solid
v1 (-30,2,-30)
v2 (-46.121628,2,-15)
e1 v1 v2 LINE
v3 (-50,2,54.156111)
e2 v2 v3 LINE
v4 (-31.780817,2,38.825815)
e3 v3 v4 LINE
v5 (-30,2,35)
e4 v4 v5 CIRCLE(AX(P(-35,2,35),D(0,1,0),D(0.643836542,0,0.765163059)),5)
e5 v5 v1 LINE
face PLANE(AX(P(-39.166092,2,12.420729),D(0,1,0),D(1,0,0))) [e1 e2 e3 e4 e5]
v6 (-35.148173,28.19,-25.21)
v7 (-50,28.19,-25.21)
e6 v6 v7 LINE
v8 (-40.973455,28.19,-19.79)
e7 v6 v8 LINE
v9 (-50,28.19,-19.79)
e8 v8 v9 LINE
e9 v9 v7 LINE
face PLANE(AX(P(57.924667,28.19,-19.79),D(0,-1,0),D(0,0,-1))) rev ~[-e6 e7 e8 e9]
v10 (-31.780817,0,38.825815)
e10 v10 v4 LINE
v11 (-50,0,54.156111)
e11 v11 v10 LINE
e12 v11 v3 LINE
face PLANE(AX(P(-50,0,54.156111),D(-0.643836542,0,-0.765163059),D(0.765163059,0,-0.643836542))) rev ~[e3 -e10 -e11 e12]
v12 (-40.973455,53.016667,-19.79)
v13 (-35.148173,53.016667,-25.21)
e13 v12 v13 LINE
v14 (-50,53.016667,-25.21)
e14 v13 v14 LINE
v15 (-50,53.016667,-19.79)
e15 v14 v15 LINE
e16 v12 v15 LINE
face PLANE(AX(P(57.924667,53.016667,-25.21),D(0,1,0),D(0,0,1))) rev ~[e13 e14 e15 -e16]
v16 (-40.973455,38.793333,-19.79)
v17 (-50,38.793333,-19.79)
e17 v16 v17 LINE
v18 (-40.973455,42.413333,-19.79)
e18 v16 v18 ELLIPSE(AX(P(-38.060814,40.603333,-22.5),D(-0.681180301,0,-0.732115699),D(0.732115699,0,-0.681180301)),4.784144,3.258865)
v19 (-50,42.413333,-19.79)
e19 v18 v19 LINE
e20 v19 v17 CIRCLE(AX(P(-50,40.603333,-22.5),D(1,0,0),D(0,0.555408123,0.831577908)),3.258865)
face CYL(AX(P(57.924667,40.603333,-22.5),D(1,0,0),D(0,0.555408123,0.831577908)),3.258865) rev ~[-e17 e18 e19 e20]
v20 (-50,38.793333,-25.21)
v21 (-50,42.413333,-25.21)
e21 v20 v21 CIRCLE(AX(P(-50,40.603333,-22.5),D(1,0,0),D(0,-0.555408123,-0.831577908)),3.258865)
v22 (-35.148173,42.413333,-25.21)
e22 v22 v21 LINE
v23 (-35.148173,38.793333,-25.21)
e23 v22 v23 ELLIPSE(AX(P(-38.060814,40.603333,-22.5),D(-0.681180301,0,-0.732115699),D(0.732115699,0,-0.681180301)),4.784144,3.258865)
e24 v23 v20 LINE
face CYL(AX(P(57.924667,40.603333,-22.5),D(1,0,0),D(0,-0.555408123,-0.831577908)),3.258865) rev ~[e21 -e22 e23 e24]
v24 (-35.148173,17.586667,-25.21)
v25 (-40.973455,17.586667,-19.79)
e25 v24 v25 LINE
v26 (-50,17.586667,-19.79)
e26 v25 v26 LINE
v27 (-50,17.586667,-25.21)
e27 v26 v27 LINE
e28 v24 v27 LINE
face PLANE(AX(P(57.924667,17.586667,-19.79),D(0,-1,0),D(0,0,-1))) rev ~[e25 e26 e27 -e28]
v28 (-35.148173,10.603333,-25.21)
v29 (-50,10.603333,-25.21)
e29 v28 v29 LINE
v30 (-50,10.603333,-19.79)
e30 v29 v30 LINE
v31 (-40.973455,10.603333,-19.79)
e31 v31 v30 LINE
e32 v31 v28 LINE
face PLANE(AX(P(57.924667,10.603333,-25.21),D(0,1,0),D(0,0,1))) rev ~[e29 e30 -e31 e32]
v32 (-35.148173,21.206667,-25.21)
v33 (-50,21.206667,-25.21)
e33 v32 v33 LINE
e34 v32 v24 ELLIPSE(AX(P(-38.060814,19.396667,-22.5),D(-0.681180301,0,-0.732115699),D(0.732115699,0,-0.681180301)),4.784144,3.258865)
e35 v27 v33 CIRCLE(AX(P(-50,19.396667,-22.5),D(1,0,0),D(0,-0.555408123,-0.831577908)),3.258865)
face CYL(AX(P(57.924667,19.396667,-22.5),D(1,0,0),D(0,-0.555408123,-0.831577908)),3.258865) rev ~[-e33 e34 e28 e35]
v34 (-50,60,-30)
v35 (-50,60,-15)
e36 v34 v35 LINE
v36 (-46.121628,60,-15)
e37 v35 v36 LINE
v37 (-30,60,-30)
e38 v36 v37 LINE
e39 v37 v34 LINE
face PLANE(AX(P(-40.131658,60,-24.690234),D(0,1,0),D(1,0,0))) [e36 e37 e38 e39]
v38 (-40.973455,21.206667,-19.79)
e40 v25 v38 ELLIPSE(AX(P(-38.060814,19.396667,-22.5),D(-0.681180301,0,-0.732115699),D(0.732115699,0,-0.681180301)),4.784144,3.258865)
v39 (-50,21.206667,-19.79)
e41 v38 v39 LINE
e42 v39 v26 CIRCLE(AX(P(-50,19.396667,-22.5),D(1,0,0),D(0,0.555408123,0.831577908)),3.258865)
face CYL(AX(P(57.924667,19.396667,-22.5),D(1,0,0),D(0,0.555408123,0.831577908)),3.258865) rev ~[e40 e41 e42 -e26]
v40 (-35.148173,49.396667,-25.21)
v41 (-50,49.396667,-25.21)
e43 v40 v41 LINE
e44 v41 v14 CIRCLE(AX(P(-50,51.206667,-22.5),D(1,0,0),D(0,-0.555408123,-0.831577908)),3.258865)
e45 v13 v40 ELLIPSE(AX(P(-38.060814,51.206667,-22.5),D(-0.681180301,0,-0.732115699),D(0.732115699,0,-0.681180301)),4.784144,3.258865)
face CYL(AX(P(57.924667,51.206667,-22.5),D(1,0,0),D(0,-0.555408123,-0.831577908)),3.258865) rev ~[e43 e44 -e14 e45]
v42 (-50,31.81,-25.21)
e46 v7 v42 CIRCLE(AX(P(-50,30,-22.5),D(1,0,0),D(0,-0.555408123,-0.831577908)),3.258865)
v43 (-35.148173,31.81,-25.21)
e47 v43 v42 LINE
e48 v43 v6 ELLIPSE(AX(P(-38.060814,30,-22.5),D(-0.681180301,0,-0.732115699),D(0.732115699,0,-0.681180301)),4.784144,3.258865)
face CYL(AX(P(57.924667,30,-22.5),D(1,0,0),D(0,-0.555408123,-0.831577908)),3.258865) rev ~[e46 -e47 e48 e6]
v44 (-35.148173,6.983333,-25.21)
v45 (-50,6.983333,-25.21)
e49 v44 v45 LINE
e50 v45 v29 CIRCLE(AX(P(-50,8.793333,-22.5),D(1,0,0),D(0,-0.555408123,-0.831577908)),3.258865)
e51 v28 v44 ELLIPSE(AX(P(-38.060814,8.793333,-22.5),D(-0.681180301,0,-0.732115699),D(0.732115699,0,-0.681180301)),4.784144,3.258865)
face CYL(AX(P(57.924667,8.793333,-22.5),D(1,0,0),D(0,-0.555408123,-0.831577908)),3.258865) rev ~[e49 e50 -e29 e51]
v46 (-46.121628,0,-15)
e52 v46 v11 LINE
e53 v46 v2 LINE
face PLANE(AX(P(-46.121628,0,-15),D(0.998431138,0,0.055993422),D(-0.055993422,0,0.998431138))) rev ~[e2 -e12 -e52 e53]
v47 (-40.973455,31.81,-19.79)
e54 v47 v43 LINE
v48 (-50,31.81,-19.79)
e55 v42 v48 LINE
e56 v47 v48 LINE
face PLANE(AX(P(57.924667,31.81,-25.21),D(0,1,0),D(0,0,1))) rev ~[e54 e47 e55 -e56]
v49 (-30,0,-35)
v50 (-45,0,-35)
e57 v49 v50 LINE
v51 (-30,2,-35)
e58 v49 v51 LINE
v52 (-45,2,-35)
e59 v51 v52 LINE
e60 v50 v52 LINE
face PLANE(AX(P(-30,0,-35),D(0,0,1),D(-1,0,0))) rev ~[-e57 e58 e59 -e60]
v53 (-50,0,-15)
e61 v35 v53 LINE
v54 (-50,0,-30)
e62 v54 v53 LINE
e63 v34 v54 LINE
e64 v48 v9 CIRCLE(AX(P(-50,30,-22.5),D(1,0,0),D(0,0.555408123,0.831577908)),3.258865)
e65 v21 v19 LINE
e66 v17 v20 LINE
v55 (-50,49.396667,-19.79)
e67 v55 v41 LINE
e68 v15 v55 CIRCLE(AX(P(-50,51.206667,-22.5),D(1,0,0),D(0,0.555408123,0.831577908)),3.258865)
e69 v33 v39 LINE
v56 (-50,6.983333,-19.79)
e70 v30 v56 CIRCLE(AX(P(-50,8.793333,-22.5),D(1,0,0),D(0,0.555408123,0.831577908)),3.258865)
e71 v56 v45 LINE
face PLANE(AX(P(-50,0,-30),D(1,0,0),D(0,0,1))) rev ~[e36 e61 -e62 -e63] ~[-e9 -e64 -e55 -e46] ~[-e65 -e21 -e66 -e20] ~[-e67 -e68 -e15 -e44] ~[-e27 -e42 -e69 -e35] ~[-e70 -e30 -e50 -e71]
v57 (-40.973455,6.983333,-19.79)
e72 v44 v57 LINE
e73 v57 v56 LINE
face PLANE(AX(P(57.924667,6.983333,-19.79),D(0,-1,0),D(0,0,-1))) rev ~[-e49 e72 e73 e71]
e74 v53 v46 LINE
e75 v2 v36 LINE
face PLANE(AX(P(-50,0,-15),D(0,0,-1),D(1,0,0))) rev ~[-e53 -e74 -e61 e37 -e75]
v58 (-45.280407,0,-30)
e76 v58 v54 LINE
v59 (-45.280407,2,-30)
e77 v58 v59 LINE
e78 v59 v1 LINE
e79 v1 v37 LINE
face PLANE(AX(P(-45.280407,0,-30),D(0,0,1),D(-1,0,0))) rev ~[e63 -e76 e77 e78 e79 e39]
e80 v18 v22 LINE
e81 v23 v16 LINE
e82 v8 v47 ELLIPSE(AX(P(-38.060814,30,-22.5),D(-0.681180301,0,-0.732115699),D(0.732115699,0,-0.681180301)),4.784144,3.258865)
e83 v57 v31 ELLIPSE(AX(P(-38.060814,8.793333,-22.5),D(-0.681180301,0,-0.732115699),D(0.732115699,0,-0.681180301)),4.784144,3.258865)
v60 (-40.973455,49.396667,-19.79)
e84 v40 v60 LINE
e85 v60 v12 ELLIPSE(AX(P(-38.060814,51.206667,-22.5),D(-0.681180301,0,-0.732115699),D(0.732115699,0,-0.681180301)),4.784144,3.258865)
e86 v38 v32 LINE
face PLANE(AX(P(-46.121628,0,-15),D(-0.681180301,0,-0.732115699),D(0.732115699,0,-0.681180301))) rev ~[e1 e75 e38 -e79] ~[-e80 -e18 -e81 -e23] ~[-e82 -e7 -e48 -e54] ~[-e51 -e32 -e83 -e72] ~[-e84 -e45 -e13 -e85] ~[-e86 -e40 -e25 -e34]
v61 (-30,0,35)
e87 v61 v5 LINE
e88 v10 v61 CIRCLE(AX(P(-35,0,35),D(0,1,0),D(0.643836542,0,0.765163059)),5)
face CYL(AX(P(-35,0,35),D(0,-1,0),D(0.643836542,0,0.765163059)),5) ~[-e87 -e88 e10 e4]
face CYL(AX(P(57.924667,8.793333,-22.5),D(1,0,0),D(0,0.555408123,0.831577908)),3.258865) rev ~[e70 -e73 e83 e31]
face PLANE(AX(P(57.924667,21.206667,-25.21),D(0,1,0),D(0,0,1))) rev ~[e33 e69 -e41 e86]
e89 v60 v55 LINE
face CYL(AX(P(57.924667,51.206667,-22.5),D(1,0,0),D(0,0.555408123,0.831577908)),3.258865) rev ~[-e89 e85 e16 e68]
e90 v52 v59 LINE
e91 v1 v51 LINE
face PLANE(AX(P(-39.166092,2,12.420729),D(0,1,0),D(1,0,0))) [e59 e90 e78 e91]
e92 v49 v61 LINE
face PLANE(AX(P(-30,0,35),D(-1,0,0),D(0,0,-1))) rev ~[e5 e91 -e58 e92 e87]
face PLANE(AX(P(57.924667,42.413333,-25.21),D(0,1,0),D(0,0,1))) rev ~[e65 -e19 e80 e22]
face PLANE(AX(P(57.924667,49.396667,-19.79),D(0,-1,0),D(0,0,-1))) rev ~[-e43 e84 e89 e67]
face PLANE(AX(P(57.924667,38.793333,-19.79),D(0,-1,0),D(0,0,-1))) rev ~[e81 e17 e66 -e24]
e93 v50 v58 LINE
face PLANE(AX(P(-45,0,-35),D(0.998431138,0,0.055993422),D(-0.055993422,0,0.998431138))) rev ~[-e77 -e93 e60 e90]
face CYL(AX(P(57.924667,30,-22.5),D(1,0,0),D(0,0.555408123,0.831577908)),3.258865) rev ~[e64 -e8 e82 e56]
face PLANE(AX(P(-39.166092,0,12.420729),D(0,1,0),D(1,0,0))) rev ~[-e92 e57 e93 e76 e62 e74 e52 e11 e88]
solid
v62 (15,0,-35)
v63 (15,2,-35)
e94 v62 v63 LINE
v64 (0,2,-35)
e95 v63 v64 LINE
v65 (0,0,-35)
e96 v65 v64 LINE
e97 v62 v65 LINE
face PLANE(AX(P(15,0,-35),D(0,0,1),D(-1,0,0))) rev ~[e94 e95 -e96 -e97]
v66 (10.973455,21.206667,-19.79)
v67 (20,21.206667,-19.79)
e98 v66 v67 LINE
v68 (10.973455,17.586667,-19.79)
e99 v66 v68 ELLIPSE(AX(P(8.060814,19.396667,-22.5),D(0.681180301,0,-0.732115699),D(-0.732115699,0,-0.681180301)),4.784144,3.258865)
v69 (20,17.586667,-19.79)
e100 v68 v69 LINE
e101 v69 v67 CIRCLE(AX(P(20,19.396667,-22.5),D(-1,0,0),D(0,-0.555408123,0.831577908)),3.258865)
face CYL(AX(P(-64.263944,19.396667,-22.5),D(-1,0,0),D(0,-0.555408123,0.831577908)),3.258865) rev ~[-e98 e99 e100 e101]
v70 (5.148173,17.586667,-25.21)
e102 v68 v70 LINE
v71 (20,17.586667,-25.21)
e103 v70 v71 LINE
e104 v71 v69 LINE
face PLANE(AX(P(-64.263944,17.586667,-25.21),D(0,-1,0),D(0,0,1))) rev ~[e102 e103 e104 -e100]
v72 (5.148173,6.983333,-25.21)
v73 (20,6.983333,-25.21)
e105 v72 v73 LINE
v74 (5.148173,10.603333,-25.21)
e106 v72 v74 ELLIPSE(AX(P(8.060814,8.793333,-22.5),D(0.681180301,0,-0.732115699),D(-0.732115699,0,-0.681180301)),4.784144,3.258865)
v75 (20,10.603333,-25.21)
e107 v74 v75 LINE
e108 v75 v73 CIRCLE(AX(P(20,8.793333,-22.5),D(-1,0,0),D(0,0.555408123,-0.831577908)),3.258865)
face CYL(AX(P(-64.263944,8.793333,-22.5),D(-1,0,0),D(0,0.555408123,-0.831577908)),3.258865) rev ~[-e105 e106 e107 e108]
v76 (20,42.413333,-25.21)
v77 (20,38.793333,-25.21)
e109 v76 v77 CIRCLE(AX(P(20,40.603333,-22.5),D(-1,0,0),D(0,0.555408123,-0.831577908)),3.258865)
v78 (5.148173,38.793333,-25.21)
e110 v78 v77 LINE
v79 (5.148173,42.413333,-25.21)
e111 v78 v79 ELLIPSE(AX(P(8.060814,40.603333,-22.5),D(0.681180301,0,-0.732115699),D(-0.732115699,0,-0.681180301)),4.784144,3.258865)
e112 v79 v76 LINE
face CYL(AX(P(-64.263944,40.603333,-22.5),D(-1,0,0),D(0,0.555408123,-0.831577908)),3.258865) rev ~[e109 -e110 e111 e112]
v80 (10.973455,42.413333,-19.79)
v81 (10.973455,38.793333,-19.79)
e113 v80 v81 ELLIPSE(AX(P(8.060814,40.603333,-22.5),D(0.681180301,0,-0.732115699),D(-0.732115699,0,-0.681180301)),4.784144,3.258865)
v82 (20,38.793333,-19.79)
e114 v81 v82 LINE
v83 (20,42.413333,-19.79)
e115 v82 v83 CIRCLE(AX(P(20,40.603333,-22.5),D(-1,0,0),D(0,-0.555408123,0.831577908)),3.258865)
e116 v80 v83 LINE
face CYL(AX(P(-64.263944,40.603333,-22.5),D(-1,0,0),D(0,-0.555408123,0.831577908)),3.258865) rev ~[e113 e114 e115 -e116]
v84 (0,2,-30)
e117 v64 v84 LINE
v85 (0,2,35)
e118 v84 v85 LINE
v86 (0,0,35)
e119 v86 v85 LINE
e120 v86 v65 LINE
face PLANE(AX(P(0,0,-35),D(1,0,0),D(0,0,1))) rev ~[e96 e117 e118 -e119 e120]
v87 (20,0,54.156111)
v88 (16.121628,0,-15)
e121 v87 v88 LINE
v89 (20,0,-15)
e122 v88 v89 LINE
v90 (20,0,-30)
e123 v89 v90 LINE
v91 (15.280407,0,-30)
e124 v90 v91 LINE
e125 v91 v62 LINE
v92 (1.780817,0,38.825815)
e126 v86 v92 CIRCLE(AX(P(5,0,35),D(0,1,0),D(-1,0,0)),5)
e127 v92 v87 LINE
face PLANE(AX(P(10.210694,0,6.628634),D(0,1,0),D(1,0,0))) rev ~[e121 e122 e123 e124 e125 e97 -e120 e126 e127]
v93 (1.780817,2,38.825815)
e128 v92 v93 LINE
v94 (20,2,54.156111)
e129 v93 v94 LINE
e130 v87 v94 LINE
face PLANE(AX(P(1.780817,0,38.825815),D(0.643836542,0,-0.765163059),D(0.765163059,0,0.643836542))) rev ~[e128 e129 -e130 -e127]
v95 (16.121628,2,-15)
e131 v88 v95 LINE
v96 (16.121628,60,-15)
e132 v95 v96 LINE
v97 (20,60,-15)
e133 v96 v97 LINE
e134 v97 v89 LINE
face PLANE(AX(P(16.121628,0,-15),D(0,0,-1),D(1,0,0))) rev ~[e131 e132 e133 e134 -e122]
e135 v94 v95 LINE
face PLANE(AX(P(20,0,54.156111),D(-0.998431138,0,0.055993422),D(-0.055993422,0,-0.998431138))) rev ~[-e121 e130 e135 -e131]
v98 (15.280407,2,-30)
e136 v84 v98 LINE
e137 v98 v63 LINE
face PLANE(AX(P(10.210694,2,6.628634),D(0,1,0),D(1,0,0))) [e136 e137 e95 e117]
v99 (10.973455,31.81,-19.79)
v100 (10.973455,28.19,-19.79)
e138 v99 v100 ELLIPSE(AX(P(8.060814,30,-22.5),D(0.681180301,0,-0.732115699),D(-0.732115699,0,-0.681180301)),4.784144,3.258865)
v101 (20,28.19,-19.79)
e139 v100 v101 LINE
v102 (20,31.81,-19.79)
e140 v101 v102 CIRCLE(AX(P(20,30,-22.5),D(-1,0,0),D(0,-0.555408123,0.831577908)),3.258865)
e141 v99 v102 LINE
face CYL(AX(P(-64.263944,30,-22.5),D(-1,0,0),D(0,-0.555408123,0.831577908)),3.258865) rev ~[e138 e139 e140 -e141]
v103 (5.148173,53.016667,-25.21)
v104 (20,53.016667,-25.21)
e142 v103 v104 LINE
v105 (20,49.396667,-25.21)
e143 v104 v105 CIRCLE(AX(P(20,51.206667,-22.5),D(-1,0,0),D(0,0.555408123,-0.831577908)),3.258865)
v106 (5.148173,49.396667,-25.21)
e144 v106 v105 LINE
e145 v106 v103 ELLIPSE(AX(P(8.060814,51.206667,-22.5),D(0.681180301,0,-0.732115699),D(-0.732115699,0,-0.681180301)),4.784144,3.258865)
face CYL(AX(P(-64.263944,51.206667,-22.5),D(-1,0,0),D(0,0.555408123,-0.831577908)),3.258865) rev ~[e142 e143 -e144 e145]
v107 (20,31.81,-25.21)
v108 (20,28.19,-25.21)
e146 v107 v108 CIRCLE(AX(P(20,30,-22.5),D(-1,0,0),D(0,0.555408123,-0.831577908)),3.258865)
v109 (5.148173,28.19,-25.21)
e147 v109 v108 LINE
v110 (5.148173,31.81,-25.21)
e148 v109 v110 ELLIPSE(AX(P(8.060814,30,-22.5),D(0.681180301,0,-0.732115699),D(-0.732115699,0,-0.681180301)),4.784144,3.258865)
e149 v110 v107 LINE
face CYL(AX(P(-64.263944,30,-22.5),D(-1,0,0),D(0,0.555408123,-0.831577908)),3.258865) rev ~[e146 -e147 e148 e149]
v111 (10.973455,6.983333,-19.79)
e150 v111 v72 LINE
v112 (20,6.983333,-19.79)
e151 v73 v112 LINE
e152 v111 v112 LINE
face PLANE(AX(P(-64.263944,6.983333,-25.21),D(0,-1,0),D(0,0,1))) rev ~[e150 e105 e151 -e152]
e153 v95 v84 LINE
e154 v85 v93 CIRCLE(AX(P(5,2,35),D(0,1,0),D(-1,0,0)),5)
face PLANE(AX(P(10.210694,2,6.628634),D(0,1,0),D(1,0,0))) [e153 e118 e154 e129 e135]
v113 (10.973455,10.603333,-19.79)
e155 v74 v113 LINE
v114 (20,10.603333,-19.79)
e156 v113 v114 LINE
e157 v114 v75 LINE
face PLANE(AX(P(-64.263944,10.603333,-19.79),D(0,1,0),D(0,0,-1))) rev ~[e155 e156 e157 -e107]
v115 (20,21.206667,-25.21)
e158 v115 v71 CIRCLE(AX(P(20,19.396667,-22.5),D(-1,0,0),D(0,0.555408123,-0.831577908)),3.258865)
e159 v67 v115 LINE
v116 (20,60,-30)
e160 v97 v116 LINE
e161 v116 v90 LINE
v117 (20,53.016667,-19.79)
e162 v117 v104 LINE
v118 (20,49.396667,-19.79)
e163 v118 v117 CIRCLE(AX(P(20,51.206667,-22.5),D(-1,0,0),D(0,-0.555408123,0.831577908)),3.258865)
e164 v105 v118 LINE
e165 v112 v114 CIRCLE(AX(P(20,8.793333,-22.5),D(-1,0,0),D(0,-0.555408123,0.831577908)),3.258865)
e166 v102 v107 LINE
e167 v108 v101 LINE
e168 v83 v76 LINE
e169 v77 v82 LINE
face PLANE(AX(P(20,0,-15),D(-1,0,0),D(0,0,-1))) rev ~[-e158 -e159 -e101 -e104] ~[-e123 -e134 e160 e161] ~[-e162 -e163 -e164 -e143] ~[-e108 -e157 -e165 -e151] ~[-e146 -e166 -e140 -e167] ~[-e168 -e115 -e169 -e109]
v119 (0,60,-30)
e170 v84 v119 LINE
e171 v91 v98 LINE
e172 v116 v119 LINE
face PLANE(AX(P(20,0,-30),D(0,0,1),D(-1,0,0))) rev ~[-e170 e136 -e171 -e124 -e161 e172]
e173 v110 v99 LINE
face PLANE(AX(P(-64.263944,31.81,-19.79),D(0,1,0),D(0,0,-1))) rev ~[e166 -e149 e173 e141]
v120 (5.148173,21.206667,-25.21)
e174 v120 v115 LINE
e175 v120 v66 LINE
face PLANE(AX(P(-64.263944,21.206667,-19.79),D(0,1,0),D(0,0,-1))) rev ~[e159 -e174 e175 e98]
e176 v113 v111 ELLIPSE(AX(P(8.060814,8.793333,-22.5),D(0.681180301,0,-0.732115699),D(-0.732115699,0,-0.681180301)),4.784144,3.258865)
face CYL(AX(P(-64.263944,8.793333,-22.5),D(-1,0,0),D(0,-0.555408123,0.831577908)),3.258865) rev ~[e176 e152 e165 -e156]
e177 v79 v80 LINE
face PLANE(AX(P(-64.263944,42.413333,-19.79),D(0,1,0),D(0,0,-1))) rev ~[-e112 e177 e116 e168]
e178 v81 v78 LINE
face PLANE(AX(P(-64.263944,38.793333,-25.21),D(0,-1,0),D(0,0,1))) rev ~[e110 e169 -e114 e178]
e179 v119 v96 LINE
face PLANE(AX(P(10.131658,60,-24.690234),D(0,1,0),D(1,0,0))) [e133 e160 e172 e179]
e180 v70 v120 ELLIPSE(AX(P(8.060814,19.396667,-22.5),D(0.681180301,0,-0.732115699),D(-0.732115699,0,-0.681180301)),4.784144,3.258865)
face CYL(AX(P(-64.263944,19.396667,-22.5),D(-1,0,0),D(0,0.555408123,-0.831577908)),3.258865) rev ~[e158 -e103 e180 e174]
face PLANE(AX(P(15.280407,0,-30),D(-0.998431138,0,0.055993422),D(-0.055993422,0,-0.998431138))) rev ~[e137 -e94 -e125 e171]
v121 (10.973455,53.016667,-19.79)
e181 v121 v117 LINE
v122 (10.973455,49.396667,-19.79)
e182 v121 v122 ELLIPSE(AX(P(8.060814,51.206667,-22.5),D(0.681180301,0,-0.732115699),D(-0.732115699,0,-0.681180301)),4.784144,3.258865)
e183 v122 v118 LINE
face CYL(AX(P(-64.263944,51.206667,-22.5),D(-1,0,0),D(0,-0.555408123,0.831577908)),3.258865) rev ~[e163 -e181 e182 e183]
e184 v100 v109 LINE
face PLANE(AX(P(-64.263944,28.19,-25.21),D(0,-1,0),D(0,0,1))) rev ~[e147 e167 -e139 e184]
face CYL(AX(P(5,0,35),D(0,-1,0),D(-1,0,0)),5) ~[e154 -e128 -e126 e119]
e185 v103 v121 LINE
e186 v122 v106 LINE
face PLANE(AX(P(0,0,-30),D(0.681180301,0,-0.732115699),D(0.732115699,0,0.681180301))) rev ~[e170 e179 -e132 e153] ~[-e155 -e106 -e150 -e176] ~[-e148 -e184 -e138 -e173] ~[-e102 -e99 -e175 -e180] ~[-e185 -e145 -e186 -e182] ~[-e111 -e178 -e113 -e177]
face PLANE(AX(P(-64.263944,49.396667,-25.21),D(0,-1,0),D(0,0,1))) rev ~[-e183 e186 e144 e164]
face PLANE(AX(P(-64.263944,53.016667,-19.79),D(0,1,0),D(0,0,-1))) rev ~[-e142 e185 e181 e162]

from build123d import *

# Parameters (mm, degrees)
BOSS_EXTRUDE1_DEPTH     = 2
BOSS_EXTRUDE3_DEPTH     = 60
CUT_EXTRUDE1_DEPTH      = 84.263943614
CUT_EXTRUDE1_DEPTH_BACK = 84.263943614
BOSS_EXTRUDE5_DEPTH     = 2
BOSS_EXTRUDE6_DEPTH     = 60
CUT_EXTRUDE2_DEPTH      = 107.9246665
CUT_EXTRUDE2_DEPTH_BACK = 107.9246665


with BuildPart() as part:
    # Sketch1 → Boss-Extrude1 (new body)
    with BuildSketch(Plane(origin=(0, 0, 0), x_dir=(1, 0, 0), z_dir=(0, 1, 0))):
        with BuildLine():
            ThreePointArc((0, -35), (0.467014585, -37.109986547), (1.780817291, -38.825815297))
            Line((1.780817291, -38.825815297), (20, -54.156110515))
            Line((20, -54.156110515), (16.121628113, 15))
            Line((16.121628113, 15), (20, 15))
            Line((20, 15), (20, 30))
            Line((20, 30), (15.280407028, 30))
            Line((15.280407028, 30), (15, 35))
            Line((15, 35), (0, 35))
            Line((0, 35), (0, -35))
        make_face()
    extrude(amount=BOSS_EXTRUDE1_DEPTH)

    # Sketch1<5> → Boss-Extrude3 (add)
    with BuildSketch(Plane(origin=(0, 0, 0), x_dir=(1, 0, 0), z_dir=(0, 1, 0))):
        Polygon((0, 30), (16.121628113, 15), (20, 15), (20, 30), align=None)
    extrude(amount=BOSS_EXTRUDE3_DEPTH)

    # Sketch4 → Cut-Extrude1 (cut, two sides: drawn at the far end of the back side and taken through both)
    with BuildSketch(Plane(origin=(20, 0, 0), x_dir=(0, 0, -1), z_dir=(1, 0, 0)).offset(-CUT_EXTRUDE1_DEPTH_BACK)):
        with BuildLine():
            Line((19.79, 53.016666667), (25.21, 53.016666667))
            ThreePointArc((25.21, 53.016666667), (25.758864833, 51.206666667), (25.21, 49.396666667))
            Line((25.21, 49.396666667), (19.79, 49.396666667))
            ThreePointArc((19.79, 49.396666667), (19.241135167, 51.206666667), (19.79, 53.016666667))
        make_face()
        with BuildLine():
            Line((19.79, 42.413333333), (25.21, 42.413333333))
            ThreePointArc((25.21, 42.413333333), (25.758864833, 40.603333333), (25.21, 38.793333333))
            Line((25.21, 38.793333333), (19.79, 38.793333333))
            ThreePointArc((19.79, 38.793333333), (19.241135167, 40.603333333), (19.79, 42.413333333))
        make_face()
        with BuildLine():
            Line((19.79, 31.81), (25.21, 31.81))
            ThreePointArc((25.21, 31.81), (25.758864833, 30), (25.21, 28.19))
            Line((25.21, 28.19), (19.79, 28.19))
            ThreePointArc((19.79, 28.19), (19.241135167, 30), (19.79, 31.81))
        make_face()
        with BuildLine():
            Line((19.79, 21.206666667), (25.21, 21.206666667))
            ThreePointArc((25.21, 21.206666667), (25.758864833, 19.396666667), (25.21, 17.586666667))
            Line((25.21, 17.586666667), (19.79, 17.586666667))
            ThreePointArc((19.79, 17.586666667), (19.241135167, 19.396666667), (19.79, 21.206666667))
        make_face()
        with BuildLine():
            Line((19.79, 10.603333333), (25.21, 10.603333333))
            ThreePointArc((25.21, 10.603333333), (25.758864833, 8.793333333), (25.21, 6.983333333))
            Line((25.21, 6.983333333), (19.79, 6.983333333))
            ThreePointArc((19.79, 6.983333333), (19.241135167, 8.793333333), (19.79, 10.603333333))
        make_face()
    extrude(amount=CUT_EXTRUDE1_DEPTH + CUT_EXTRUDE1_DEPTH_BACK, mode=Mode.SUBTRACT)


with BuildPart() as body_2:
    # Sketch1<9> → Boss-Extrude5 (new body)
    with BuildSketch(Plane(origin=(0, 0, 0), x_dir=(1, 0, 0), z_dir=(0, 1, 0))):
        with BuildLine():
            Line((-50, 15), (-46.121628113, 15))
            Line((-46.121628113, 15), (-50, -54.156110515))
            Line((-50, -54.156110515), (-31.780817291, -38.825815297))
            ThreePointArc((-31.780817291, -38.825815297), (-30.467014585, -37.109986547), (-30, -35))
            Line((-30, -35), (-30, 35))
            Line((-30, 35), (-45, 35))
            Line((-45, 35), (-45.280407028, 30))
            Line((-45.280407028, 30), (-50, 30))
            Line((-50, 30), (-50, 15))
        make_face()
    extrude(amount=BOSS_EXTRUDE5_DEPTH)

    # Sketch1<10> → Boss-Extrude6 (add)
    with BuildSketch(Plane(origin=(0, 0, 0), x_dir=(1, 0, 0), z_dir=(0, 1, 0))):
        Polygon((-30, 30), (-50, 30), (-50, 15), (-46.121628113, 15), align=None)
    extrude(amount=BOSS_EXTRUDE6_DEPTH)

    # Sketch7 → Cut-Extrude2 (cut, two sides: drawn at the far end of the back side and taken through both)
    with BuildSketch(Plane.ZY.offset(50).offset(-CUT_EXTRUDE2_DEPTH_BACK)):
        with BuildLine():
            Line((-25.21, 53.016666667), (-19.79, 53.016666667))
            ThreePointArc((-19.79, 53.016666667), (-19.241135167, 51.206666667), (-19.79, 49.396666667))
            Line((-19.79, 49.396666667), (-25.21, 49.396666667))
            ThreePointArc((-25.21, 49.396666667), (-25.758864833, 51.206666667), (-25.21, 53.016666667))
        make_face()
        with BuildLine():
            Line((-25.21, 42.413333333), (-19.79, 42.413333333))
            ThreePointArc((-19.79, 42.413333333), (-19.241135167, 40.603333333), (-19.79, 38.793333333))
            Line((-19.79, 38.793333333), (-25.21, 38.793333333))
            ThreePointArc((-25.21, 38.793333333), (-25.758864833, 40.603333333), (-25.21, 42.413333333))
        make_face()
        with BuildLine():
            Line((-25.21, 31.81), (-19.79, 31.81))
            ThreePointArc((-19.79, 31.81), (-19.241135167, 30), (-19.79, 28.19))
            Line((-19.79, 28.19), (-25.21, 28.19))
            ThreePointArc((-25.21, 28.19), (-25.758864833, 30), (-25.21, 31.81))
        make_face()
        with BuildLine():
            Line((-25.21, 21.206666667), (-19.79, 21.206666667))
            ThreePointArc((-19.79, 21.206666667), (-19.241135167, 19.396666667), (-19.79, 17.586666667))
            Line((-19.79, 17.586666667), (-25.21, 17.586666667))
            ThreePointArc((-25.21, 17.586666667), (-25.758864833, 19.396666667), (-25.21, 21.206666667))
        make_face()
        with BuildLine():
            Line((-25.21, 10.603333333), (-19.79, 10.603333333))
            ThreePointArc((-19.79, 10.603333333), (-19.241135167, 8.793333333), (-19.79, 6.983333333))
            Line((-19.79, 6.983333333), (-25.21, 6.983333333))
            ThreePointArc((-25.21, 6.983333333), (-25.758864833, 8.793333333), (-25.21, 10.603333333))
        make_face()
    extrude(amount=CUT_EXTRUDE2_DEPTH + CUT_EXTRUDE2_DEPTH_BACK, mode=Mode.SUBTRACT)


solid = Compound([part.part, body_2.part])
